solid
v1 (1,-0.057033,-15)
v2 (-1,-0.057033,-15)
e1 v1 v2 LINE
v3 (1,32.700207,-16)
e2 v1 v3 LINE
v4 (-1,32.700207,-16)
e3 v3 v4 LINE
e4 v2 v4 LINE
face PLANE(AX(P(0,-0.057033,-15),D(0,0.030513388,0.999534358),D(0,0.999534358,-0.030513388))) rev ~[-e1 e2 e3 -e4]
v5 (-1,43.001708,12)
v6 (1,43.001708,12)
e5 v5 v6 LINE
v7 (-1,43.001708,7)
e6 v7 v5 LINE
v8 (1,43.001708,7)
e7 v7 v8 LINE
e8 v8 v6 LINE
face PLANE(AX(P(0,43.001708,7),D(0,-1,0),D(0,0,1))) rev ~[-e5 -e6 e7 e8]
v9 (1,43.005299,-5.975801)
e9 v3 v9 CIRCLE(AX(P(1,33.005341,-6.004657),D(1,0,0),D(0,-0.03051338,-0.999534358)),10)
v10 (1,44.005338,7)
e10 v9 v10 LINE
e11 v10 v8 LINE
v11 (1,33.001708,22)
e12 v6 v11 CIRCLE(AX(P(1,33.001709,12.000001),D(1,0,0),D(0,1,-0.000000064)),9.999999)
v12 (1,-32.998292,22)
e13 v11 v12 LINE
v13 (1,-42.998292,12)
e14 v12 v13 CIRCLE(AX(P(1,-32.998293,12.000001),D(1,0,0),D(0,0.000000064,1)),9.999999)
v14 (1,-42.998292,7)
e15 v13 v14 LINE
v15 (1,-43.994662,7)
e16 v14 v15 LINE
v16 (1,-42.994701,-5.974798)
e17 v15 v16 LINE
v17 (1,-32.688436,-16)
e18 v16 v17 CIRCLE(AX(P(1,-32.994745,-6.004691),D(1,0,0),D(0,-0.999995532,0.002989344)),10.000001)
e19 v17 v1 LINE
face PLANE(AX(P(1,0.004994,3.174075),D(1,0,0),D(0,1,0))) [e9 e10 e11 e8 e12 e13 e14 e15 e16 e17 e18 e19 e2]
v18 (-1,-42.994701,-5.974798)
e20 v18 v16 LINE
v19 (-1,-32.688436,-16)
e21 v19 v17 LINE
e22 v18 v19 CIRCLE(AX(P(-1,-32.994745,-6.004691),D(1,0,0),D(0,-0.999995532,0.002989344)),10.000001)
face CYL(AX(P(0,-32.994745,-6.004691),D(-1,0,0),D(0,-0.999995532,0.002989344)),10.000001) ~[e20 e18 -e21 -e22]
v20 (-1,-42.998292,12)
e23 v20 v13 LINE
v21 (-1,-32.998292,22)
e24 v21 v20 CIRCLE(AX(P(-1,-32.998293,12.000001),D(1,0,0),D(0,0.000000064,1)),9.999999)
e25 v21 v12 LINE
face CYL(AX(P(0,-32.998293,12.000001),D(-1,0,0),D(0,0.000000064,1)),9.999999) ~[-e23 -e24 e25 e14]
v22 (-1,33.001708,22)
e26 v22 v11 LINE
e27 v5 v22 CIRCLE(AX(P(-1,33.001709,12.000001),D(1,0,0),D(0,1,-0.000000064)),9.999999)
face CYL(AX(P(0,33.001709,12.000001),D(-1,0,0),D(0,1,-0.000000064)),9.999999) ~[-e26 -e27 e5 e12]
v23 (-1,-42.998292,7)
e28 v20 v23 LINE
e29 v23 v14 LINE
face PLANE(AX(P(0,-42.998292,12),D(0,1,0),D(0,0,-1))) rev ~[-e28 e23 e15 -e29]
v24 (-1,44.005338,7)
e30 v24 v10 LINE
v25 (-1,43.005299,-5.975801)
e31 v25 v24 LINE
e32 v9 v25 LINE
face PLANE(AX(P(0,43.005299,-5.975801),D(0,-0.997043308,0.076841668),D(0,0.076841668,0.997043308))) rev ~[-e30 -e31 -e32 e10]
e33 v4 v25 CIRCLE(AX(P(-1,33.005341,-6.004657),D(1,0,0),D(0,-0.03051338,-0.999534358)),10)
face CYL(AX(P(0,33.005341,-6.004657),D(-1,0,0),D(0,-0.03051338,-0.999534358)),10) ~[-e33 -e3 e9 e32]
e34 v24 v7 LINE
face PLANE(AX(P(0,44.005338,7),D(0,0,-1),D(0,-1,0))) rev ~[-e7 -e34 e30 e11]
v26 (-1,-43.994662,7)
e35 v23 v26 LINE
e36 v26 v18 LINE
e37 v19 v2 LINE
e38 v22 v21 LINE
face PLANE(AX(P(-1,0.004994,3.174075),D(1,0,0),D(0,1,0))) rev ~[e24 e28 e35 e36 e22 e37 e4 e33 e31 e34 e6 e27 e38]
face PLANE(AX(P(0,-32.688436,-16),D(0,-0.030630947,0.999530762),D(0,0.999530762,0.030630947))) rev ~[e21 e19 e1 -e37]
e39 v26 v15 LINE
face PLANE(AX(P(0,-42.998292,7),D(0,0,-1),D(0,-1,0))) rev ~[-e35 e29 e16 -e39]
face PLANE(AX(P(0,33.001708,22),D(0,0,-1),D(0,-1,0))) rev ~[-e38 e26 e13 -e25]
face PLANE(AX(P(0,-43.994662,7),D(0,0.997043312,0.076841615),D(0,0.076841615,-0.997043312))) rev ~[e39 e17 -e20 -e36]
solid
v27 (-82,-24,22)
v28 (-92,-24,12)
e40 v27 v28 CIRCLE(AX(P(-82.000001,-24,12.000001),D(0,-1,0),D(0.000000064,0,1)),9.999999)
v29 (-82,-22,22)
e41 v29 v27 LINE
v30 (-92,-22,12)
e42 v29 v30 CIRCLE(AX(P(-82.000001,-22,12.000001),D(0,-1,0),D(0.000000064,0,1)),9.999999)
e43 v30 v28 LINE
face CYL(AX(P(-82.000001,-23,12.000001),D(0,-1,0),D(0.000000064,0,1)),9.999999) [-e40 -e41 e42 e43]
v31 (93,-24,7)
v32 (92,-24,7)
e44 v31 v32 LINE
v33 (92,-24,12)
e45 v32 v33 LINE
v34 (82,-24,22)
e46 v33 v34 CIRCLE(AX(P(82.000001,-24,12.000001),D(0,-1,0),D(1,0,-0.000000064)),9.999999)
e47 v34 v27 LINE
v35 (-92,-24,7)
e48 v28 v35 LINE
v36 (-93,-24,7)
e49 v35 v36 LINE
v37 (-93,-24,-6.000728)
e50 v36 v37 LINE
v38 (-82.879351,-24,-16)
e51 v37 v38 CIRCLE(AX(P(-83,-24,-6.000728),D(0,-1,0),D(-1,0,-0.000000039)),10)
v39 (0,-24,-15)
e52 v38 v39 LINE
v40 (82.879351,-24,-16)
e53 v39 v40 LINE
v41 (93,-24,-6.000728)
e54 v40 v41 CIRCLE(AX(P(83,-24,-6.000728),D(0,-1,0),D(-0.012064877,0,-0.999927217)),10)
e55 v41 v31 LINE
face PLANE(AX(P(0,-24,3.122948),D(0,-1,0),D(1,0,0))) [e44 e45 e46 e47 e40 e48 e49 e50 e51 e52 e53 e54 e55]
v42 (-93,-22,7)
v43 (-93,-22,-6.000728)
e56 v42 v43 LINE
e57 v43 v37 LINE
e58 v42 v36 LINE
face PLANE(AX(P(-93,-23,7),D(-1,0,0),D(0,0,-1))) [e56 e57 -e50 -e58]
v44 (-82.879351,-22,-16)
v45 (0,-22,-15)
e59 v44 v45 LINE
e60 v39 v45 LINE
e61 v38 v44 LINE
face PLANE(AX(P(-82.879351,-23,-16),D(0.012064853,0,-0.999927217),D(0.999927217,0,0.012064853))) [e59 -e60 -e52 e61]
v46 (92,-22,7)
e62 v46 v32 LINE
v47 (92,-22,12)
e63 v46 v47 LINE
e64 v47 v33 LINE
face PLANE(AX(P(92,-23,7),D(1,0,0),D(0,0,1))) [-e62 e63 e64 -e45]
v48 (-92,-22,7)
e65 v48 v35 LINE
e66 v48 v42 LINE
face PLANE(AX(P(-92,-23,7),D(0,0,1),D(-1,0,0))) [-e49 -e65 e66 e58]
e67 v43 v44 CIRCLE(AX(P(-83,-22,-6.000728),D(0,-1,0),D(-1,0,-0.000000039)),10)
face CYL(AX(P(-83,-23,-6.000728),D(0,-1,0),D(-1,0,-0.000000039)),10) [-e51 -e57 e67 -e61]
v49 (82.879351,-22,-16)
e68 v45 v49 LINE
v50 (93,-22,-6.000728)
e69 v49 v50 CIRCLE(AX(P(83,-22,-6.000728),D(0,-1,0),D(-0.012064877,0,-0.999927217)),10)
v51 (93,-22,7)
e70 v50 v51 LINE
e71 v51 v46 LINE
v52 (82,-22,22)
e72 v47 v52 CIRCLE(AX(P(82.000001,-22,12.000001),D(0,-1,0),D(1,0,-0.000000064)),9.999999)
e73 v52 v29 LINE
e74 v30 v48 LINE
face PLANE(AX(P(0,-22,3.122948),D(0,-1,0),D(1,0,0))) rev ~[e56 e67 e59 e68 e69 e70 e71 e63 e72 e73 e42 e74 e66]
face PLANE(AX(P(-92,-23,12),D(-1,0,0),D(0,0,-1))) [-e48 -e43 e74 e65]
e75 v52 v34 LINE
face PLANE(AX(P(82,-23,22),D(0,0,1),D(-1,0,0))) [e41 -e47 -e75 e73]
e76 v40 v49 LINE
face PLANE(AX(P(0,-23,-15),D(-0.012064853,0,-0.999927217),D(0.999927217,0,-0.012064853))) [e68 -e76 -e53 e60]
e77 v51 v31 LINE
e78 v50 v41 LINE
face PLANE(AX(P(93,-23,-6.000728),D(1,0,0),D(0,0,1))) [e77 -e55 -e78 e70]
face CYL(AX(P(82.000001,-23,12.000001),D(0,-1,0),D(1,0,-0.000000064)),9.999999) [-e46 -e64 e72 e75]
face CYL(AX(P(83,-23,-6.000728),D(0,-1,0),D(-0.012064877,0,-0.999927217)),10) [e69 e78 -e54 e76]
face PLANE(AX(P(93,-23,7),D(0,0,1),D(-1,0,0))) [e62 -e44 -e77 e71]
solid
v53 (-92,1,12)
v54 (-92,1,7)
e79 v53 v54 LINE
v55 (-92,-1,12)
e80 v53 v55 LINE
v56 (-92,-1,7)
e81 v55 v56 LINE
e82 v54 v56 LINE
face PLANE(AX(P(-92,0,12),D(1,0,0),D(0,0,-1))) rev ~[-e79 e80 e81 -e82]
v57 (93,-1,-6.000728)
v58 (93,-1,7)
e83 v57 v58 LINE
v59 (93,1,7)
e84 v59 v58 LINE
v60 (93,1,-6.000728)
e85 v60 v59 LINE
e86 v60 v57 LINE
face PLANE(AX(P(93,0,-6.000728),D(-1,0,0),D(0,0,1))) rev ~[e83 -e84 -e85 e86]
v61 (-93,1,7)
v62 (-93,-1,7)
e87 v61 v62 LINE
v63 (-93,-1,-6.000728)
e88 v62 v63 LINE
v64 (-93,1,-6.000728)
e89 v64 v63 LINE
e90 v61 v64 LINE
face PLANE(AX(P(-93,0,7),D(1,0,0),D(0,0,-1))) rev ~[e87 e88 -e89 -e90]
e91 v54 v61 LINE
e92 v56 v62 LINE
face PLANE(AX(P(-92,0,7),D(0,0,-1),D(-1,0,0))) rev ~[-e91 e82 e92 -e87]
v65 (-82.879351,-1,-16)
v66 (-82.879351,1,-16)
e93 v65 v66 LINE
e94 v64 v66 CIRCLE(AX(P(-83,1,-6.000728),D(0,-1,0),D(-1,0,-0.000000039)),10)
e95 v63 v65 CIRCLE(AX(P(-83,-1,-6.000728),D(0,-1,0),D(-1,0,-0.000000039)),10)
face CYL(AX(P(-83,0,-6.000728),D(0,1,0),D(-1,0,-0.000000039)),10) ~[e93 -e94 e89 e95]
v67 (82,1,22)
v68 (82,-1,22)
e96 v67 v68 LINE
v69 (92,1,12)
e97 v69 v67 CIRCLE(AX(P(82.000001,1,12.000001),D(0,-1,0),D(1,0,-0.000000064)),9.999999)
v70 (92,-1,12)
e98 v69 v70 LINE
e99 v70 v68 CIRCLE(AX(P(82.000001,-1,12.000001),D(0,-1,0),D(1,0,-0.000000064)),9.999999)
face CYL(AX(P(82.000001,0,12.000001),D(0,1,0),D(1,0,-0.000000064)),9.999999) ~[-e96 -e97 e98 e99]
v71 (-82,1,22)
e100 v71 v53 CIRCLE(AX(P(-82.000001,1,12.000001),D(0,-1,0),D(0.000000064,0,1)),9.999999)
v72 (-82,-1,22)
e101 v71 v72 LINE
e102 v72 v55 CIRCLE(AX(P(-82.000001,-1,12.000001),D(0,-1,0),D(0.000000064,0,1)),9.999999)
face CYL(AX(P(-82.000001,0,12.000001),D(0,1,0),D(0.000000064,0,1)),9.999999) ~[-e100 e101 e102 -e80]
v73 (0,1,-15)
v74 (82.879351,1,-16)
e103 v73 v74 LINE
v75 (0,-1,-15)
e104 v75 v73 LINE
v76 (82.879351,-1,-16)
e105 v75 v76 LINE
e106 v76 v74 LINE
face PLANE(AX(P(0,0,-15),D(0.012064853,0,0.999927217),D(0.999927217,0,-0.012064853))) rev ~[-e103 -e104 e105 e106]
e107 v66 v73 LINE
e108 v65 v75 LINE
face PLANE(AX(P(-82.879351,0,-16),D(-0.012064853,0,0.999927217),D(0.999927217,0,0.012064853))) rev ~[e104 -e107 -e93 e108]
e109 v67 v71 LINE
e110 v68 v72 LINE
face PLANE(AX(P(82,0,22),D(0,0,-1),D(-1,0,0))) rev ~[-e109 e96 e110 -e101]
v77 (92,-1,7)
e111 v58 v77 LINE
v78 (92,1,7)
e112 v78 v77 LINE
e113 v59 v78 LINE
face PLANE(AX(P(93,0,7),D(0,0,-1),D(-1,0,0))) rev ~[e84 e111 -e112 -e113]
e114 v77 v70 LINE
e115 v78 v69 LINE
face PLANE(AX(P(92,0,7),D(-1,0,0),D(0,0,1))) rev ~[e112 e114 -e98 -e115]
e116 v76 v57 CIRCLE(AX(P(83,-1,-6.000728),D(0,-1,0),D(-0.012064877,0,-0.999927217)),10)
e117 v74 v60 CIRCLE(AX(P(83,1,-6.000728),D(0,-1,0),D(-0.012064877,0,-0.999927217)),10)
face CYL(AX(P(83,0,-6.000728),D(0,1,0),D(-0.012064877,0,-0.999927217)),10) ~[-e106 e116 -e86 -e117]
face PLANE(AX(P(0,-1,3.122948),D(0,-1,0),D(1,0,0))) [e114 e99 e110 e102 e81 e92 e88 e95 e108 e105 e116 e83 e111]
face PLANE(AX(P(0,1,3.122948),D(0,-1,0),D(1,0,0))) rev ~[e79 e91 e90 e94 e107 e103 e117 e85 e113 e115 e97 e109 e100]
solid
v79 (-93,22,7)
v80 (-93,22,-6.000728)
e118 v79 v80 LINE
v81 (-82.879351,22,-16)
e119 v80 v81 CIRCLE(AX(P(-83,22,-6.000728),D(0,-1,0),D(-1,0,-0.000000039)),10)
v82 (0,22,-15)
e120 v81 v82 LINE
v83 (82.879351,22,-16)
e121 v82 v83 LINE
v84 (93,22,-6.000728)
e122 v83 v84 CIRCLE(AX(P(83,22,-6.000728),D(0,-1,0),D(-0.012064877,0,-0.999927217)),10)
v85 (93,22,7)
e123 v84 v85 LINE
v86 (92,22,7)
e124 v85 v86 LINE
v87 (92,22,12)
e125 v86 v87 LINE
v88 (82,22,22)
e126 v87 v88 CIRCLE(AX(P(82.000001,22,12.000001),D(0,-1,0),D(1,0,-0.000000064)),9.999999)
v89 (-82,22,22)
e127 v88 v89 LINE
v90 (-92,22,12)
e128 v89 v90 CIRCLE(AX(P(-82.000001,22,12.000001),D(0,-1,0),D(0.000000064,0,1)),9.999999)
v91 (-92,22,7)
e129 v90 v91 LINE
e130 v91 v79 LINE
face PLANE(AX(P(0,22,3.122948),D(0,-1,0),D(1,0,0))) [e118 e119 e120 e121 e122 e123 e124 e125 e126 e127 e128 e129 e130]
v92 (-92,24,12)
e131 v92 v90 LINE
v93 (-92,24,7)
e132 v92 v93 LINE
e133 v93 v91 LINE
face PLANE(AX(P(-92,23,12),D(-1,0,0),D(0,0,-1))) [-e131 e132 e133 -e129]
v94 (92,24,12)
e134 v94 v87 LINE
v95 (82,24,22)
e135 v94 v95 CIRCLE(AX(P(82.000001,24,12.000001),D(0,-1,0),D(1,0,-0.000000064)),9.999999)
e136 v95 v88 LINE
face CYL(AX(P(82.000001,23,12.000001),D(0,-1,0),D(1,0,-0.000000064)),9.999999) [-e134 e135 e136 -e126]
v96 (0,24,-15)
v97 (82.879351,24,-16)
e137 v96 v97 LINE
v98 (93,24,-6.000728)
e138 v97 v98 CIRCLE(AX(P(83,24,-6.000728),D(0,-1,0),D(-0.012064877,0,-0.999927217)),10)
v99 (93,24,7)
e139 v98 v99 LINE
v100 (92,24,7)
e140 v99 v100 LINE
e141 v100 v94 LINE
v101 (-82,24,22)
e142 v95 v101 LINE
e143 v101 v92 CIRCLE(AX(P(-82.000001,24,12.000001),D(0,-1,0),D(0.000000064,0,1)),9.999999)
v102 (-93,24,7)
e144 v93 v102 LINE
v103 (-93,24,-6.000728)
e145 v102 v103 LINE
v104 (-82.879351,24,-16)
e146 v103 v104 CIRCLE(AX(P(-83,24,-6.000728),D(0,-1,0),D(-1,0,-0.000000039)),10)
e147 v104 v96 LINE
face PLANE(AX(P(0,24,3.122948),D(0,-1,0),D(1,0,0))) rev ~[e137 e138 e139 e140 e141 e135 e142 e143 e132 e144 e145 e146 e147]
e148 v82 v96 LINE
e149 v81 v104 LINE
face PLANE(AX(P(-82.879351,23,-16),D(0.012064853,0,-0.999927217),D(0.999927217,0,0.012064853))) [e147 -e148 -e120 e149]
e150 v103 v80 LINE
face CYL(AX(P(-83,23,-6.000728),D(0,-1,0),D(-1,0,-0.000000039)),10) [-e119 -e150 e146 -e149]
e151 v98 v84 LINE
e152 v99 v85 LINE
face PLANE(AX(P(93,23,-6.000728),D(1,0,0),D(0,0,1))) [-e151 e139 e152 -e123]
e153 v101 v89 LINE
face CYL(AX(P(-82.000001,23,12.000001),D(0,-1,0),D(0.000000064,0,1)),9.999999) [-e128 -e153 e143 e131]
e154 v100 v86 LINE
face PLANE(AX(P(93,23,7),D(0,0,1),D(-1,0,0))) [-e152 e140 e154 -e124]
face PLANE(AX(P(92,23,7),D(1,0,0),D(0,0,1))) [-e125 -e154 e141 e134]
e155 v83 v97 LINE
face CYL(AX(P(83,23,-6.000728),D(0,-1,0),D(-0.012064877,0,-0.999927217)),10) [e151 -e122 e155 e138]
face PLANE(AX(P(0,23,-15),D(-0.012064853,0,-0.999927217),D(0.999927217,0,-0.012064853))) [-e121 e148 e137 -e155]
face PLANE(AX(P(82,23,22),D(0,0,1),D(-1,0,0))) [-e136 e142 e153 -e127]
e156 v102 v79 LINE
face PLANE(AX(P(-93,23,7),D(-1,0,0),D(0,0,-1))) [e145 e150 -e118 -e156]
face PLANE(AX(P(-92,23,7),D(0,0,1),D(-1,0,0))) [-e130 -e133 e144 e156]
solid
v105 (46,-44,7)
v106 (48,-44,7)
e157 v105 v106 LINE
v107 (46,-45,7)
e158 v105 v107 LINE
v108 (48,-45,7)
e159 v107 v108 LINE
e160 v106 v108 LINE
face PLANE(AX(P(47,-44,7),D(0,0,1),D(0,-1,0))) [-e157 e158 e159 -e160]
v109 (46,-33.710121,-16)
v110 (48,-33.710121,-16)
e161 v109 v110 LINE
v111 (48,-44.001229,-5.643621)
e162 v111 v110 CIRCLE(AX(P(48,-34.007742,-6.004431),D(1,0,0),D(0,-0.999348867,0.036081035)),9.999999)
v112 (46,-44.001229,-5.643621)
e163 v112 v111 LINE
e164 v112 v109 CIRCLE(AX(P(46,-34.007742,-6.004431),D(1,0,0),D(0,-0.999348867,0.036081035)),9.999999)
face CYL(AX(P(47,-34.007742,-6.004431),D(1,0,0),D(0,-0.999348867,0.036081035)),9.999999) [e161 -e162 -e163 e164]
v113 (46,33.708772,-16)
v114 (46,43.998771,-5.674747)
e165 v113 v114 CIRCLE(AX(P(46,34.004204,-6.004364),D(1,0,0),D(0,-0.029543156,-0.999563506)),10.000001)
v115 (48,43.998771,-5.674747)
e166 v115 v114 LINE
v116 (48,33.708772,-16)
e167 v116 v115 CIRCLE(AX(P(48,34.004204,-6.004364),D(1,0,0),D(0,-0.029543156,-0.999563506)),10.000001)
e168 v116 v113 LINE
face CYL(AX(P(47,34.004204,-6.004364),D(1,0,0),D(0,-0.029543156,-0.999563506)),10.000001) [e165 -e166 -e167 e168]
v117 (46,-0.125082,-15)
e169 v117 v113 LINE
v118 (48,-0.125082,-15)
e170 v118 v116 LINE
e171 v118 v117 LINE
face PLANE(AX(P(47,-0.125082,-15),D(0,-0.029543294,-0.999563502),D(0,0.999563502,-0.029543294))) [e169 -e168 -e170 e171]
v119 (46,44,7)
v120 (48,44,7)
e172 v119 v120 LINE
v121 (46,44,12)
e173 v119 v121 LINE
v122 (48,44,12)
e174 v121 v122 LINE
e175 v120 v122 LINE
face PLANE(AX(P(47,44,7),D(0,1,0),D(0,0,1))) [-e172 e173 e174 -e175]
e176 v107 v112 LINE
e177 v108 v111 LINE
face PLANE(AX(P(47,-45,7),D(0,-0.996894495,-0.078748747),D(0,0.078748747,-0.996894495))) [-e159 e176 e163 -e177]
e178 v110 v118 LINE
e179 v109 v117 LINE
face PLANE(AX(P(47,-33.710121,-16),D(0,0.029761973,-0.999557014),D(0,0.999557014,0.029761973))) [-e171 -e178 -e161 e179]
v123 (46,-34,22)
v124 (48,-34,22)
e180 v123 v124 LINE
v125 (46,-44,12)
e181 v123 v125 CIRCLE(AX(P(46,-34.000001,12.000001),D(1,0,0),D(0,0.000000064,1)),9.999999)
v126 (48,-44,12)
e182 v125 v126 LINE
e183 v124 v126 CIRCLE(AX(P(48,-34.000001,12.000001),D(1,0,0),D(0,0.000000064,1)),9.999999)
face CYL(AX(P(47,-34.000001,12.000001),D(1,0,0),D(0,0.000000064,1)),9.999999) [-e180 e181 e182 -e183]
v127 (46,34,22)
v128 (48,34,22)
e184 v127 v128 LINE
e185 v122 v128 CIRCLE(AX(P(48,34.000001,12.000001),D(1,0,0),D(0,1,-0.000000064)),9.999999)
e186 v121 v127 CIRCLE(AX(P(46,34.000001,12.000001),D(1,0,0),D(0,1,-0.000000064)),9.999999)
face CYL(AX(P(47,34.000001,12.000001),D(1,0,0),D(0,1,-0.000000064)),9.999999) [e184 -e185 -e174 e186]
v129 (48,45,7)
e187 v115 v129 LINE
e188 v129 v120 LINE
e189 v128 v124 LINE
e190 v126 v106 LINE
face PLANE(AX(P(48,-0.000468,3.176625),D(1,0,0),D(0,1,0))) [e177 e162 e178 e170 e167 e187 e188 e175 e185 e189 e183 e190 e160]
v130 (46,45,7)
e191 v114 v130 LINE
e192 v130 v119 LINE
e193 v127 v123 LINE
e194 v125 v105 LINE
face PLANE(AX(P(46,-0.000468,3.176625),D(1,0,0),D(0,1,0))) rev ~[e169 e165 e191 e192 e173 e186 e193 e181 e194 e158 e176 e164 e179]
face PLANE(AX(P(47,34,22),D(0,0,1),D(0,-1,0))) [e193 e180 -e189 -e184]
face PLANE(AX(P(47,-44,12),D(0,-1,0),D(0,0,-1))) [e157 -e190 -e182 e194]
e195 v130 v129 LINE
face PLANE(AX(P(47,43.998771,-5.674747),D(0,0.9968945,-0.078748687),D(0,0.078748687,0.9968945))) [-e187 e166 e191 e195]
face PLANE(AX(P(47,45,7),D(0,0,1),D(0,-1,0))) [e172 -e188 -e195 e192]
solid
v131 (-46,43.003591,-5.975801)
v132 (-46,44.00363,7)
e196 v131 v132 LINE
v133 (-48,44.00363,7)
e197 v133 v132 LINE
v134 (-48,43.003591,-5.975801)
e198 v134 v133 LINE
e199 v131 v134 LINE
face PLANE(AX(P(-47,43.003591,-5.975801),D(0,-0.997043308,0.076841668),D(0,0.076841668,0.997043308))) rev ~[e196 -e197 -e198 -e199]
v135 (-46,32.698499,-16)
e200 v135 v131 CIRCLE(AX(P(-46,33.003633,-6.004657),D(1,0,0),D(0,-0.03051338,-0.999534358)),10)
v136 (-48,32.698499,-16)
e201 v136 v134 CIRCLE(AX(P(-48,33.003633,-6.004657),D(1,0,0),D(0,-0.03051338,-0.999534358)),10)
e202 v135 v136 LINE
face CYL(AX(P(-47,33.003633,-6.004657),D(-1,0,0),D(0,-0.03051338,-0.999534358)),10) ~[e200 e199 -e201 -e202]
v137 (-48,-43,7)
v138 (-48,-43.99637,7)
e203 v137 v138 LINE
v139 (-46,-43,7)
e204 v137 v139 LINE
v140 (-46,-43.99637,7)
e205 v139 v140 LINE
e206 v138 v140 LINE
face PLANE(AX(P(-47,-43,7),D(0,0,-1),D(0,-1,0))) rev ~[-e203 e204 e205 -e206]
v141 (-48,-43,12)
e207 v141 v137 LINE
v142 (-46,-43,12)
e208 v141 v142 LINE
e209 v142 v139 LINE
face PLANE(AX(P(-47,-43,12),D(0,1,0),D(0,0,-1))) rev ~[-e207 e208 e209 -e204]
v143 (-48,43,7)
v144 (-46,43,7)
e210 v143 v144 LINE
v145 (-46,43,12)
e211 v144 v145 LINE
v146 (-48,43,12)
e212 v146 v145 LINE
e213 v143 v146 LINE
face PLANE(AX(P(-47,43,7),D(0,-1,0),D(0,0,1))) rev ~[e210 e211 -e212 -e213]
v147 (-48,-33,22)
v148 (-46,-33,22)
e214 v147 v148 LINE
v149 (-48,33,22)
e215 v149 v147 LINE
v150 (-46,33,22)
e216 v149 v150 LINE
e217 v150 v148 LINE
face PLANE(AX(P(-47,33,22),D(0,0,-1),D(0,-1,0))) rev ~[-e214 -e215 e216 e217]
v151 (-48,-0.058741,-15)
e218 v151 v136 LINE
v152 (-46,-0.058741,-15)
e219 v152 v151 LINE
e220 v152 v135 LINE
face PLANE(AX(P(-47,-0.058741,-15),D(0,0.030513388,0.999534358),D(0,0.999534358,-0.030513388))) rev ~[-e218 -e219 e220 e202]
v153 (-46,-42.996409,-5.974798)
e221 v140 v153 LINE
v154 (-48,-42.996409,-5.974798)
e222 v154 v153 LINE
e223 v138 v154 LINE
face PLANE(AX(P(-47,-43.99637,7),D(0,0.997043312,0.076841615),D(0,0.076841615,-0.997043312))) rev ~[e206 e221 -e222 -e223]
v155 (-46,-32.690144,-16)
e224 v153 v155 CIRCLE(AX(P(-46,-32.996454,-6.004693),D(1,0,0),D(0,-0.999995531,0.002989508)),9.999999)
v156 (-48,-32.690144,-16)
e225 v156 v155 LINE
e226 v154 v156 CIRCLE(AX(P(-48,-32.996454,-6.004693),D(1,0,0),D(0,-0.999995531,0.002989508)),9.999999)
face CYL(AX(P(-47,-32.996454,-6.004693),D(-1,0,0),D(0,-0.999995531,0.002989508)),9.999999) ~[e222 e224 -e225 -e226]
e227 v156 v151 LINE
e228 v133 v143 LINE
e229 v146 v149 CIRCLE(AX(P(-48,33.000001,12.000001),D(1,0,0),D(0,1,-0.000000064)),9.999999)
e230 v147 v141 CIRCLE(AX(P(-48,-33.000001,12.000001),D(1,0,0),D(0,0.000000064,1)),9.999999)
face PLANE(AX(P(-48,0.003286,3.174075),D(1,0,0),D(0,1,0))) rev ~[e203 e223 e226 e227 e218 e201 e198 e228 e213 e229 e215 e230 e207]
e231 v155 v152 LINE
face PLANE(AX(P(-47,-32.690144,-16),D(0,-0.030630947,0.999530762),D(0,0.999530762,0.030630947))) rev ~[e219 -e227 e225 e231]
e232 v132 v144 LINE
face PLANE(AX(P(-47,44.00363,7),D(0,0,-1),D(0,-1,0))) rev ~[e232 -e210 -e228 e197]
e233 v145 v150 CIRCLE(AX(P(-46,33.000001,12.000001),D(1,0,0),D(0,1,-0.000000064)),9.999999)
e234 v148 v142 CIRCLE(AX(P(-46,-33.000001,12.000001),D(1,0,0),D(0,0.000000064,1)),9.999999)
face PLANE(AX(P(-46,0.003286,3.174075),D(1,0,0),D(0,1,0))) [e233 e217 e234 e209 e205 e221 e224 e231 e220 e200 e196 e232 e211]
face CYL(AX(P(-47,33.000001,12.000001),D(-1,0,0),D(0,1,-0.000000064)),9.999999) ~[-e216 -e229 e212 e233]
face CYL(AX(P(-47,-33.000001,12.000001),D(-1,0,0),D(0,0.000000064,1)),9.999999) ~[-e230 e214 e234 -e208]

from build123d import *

# Parameters (mm, degrees)
F10_DEPTH = 1
F11_DEPTH = 1
F12_DEPTH = 1


with BuildPart() as f10:
    # F4 (on offset) → F10 (new body, symmetric)
    with BuildSketch(Plane.XZ.offset(23)):
        with BuildLine():
            ThreePointArc((82.879351, -16), (90.028283, -13.114323), (93, -6.000728))
            Line((93, -6.000728), (93, 7))
            Line((93, 7), (92, 7))
            Line((92, 7), (92, 12))
            ThreePointArc((92, 12), (89.071068, 19.071068), (82, 22))
            Line((82, 22), (-82, 22))
            ThreePointArc((-82, 22), (-89.071068, 19.071068), (-92, 12))
            Line((-92, 12), (-92, 7))
            Line((-92, 7), (-93, 7))
            Line((-93, 7), (-93, -6.000728))
            ThreePointArc((-93, -6.000728), (-90.028283, -13.114323), (-82.879351, -16))
            Line((-82.879351, -16), (0, -15))
            Line((0, -15), (82.879351, -16))
        make_face()
    extrude(amount=F10_DEPTH, both=True)


with BuildPart() as f11:
    # F5 (on Front) + F6 (on offset) → F11 (new body, symmetric)
    with BuildSketch(Plane.XZ):
        with BuildLine():
            ThreePointArc((82.879351, -16), (90.028283, -13.114323), (93, -6.000728))
            Line((93, -6.000728), (93, 7))
            Line((93, 7), (92, 7))
            Line((92, 7), (92, 12))
            ThreePointArc((92, 12), (89.071068, 19.071068), (82, 22))
            Line((82, 22), (-82, 22))
            ThreePointArc((-82, 22), (-89.071068, 19.071068), (-92, 12))
            Line((-92, 12), (-92, 7))
            Line((-92, 7), (-93, 7))
            Line((-93, 7), (-93, -6.000728))
            ThreePointArc((-93, -6.000728), (-90.028283, -13.114323), (-82.879351, -16))
            Line((-82.879351, -16), (0, -15))
            Line((0, -15), (82.879351, -16))
        make_face()
    with BuildSketch(Plane.XZ.offset(-23)):
        with BuildLine():
            ThreePointArc((82.879351, -16), (90.028283, -13.114323), (93, -6.000728))
            Line((93, -6.000728), (93, 7))
            Line((93, 7), (92, 7))
            Line((92, 7), (92, 12))
            ThreePointArc((92, 12), (89.071068, 19.071068), (82, 22))
            Line((82, 22), (-82, 22))
            ThreePointArc((-82, 22), (-89.071068, 19.071068), (-92, 12))
            Line((-92, 12), (-92, 7))
            Line((-92, 7), (-93, 7))
            Line((-93, 7), (-93, -6.000728))
            ThreePointArc((-93, -6.000728), (-90.028283, -13.114323), (-82.879351, -16))
            Line((-82.879351, -16), (0, -15))
            Line((0, -15), (82.879351, -16))
        make_face()
    extrude(amount=F11_DEPTH, both=True)


with BuildPart() as f12:
    # F8 (on offset) + F9 (on Right) + F7 (on offset) → F12 (new body, symmetric)
    with BuildSketch(Plane.YZ.offset(-47)):
        with BuildLine():
            Line((43.003591, -5.975801), (44.00363, 7))
            Line((44.00363, 7), (43, 7))
            Line((43, 7), (43, 12))
            ThreePointArc((43, 12), (40.071068, 19.071068), (33, 22))
            Line((33, 22), (-33, 22))
            ThreePointArc((-33, 22), (-40.071068, 19.071068), (-43, 12))
            Line((-43, 12), (-43, 7))
            Line((-43, 7), (-43.99637, 7))
            Line((-43.99637, 7), (-42.996409, -5.974798))
            ThreePointArc((-42.996409, -5.974798), (-39.969105, -13.172826), (-32.690144, -16))
            Line((-32.690144, -16), (-0.058741, -15))
            Line((-0.058741, -15), (32.698499, -16))
            ThreePointArc((32.698499, -16), (39.976333, -13.172742), (43.003591, -5.975801))
        make_face()
    with BuildSketch(Plane.YZ):
        with BuildLine():
            Line((43.005299, -5.975801), (44.005338, 7))
            Line((44.005338, 7), (43.001708, 7))
            Line((43.001708, 7), (43.001708, 12))
            ThreePointArc((43.001708, 12), (40.072776, 19.071068), (33.001708, 22))
            Line((33.001708, 22), (-32.998292, 22))
            ThreePointArc((-32.998292, 22), (-40.06936, 19.071068), (-42.998292, 12))
            Line((-42.998292, 12), (-42.998292, 7))
            Line((-42.998292, 7), (-43.994662, 7))
            Line((-43.994662, 7), (-42.994701, -5.974798))
            ThreePointArc((-42.994701, -5.974798), (-39.967396, -13.172826), (-32.688436, -16))
            Line((-32.688436, -16), (-0.057033, -15))
            Line((-0.057033, -15), (32.700207, -16))
            ThreePointArc((32.700207, -16), (39.978041, -13.172742), (43.005299, -5.975801))
        make_face()
    with BuildSketch(Plane.YZ.offset(47)):
        with BuildLine():
            Line((43.998771, -5.674747), (45, 7))
            Line((45, 7), (44, 7))
            Line((44, 7), (44, 12))
            ThreePointArc((44, 12), (41.071068, 19.071068), (34, 22))
            Line((34, 22), (-34, 22))
            ThreePointArc((-34, 22), (-41.071068, 19.071068), (-44, 12))
            Line((-44, 12), (-44, 7))
            Line((-44, 7), (-45, 7))
            Line((-45, 7), (-44.001229, -5.643621))
            ThreePointArc((-44.001229, -5.643621), (-41.101126, -13.05311), (-33.710121, -16))
            Line((-33.710121, -16), (-0.125082, -15))
            Line((-0.125082, -15), (33.708772, -16))
            ThreePointArc((33.708772, -16), (41.087354, -13.06333), (43.998771, -5.674747))
        make_face()
    extrude(amount=F12_DEPTH, both=True)


solid = Compound([f10.part, f11.part, f12.part])
